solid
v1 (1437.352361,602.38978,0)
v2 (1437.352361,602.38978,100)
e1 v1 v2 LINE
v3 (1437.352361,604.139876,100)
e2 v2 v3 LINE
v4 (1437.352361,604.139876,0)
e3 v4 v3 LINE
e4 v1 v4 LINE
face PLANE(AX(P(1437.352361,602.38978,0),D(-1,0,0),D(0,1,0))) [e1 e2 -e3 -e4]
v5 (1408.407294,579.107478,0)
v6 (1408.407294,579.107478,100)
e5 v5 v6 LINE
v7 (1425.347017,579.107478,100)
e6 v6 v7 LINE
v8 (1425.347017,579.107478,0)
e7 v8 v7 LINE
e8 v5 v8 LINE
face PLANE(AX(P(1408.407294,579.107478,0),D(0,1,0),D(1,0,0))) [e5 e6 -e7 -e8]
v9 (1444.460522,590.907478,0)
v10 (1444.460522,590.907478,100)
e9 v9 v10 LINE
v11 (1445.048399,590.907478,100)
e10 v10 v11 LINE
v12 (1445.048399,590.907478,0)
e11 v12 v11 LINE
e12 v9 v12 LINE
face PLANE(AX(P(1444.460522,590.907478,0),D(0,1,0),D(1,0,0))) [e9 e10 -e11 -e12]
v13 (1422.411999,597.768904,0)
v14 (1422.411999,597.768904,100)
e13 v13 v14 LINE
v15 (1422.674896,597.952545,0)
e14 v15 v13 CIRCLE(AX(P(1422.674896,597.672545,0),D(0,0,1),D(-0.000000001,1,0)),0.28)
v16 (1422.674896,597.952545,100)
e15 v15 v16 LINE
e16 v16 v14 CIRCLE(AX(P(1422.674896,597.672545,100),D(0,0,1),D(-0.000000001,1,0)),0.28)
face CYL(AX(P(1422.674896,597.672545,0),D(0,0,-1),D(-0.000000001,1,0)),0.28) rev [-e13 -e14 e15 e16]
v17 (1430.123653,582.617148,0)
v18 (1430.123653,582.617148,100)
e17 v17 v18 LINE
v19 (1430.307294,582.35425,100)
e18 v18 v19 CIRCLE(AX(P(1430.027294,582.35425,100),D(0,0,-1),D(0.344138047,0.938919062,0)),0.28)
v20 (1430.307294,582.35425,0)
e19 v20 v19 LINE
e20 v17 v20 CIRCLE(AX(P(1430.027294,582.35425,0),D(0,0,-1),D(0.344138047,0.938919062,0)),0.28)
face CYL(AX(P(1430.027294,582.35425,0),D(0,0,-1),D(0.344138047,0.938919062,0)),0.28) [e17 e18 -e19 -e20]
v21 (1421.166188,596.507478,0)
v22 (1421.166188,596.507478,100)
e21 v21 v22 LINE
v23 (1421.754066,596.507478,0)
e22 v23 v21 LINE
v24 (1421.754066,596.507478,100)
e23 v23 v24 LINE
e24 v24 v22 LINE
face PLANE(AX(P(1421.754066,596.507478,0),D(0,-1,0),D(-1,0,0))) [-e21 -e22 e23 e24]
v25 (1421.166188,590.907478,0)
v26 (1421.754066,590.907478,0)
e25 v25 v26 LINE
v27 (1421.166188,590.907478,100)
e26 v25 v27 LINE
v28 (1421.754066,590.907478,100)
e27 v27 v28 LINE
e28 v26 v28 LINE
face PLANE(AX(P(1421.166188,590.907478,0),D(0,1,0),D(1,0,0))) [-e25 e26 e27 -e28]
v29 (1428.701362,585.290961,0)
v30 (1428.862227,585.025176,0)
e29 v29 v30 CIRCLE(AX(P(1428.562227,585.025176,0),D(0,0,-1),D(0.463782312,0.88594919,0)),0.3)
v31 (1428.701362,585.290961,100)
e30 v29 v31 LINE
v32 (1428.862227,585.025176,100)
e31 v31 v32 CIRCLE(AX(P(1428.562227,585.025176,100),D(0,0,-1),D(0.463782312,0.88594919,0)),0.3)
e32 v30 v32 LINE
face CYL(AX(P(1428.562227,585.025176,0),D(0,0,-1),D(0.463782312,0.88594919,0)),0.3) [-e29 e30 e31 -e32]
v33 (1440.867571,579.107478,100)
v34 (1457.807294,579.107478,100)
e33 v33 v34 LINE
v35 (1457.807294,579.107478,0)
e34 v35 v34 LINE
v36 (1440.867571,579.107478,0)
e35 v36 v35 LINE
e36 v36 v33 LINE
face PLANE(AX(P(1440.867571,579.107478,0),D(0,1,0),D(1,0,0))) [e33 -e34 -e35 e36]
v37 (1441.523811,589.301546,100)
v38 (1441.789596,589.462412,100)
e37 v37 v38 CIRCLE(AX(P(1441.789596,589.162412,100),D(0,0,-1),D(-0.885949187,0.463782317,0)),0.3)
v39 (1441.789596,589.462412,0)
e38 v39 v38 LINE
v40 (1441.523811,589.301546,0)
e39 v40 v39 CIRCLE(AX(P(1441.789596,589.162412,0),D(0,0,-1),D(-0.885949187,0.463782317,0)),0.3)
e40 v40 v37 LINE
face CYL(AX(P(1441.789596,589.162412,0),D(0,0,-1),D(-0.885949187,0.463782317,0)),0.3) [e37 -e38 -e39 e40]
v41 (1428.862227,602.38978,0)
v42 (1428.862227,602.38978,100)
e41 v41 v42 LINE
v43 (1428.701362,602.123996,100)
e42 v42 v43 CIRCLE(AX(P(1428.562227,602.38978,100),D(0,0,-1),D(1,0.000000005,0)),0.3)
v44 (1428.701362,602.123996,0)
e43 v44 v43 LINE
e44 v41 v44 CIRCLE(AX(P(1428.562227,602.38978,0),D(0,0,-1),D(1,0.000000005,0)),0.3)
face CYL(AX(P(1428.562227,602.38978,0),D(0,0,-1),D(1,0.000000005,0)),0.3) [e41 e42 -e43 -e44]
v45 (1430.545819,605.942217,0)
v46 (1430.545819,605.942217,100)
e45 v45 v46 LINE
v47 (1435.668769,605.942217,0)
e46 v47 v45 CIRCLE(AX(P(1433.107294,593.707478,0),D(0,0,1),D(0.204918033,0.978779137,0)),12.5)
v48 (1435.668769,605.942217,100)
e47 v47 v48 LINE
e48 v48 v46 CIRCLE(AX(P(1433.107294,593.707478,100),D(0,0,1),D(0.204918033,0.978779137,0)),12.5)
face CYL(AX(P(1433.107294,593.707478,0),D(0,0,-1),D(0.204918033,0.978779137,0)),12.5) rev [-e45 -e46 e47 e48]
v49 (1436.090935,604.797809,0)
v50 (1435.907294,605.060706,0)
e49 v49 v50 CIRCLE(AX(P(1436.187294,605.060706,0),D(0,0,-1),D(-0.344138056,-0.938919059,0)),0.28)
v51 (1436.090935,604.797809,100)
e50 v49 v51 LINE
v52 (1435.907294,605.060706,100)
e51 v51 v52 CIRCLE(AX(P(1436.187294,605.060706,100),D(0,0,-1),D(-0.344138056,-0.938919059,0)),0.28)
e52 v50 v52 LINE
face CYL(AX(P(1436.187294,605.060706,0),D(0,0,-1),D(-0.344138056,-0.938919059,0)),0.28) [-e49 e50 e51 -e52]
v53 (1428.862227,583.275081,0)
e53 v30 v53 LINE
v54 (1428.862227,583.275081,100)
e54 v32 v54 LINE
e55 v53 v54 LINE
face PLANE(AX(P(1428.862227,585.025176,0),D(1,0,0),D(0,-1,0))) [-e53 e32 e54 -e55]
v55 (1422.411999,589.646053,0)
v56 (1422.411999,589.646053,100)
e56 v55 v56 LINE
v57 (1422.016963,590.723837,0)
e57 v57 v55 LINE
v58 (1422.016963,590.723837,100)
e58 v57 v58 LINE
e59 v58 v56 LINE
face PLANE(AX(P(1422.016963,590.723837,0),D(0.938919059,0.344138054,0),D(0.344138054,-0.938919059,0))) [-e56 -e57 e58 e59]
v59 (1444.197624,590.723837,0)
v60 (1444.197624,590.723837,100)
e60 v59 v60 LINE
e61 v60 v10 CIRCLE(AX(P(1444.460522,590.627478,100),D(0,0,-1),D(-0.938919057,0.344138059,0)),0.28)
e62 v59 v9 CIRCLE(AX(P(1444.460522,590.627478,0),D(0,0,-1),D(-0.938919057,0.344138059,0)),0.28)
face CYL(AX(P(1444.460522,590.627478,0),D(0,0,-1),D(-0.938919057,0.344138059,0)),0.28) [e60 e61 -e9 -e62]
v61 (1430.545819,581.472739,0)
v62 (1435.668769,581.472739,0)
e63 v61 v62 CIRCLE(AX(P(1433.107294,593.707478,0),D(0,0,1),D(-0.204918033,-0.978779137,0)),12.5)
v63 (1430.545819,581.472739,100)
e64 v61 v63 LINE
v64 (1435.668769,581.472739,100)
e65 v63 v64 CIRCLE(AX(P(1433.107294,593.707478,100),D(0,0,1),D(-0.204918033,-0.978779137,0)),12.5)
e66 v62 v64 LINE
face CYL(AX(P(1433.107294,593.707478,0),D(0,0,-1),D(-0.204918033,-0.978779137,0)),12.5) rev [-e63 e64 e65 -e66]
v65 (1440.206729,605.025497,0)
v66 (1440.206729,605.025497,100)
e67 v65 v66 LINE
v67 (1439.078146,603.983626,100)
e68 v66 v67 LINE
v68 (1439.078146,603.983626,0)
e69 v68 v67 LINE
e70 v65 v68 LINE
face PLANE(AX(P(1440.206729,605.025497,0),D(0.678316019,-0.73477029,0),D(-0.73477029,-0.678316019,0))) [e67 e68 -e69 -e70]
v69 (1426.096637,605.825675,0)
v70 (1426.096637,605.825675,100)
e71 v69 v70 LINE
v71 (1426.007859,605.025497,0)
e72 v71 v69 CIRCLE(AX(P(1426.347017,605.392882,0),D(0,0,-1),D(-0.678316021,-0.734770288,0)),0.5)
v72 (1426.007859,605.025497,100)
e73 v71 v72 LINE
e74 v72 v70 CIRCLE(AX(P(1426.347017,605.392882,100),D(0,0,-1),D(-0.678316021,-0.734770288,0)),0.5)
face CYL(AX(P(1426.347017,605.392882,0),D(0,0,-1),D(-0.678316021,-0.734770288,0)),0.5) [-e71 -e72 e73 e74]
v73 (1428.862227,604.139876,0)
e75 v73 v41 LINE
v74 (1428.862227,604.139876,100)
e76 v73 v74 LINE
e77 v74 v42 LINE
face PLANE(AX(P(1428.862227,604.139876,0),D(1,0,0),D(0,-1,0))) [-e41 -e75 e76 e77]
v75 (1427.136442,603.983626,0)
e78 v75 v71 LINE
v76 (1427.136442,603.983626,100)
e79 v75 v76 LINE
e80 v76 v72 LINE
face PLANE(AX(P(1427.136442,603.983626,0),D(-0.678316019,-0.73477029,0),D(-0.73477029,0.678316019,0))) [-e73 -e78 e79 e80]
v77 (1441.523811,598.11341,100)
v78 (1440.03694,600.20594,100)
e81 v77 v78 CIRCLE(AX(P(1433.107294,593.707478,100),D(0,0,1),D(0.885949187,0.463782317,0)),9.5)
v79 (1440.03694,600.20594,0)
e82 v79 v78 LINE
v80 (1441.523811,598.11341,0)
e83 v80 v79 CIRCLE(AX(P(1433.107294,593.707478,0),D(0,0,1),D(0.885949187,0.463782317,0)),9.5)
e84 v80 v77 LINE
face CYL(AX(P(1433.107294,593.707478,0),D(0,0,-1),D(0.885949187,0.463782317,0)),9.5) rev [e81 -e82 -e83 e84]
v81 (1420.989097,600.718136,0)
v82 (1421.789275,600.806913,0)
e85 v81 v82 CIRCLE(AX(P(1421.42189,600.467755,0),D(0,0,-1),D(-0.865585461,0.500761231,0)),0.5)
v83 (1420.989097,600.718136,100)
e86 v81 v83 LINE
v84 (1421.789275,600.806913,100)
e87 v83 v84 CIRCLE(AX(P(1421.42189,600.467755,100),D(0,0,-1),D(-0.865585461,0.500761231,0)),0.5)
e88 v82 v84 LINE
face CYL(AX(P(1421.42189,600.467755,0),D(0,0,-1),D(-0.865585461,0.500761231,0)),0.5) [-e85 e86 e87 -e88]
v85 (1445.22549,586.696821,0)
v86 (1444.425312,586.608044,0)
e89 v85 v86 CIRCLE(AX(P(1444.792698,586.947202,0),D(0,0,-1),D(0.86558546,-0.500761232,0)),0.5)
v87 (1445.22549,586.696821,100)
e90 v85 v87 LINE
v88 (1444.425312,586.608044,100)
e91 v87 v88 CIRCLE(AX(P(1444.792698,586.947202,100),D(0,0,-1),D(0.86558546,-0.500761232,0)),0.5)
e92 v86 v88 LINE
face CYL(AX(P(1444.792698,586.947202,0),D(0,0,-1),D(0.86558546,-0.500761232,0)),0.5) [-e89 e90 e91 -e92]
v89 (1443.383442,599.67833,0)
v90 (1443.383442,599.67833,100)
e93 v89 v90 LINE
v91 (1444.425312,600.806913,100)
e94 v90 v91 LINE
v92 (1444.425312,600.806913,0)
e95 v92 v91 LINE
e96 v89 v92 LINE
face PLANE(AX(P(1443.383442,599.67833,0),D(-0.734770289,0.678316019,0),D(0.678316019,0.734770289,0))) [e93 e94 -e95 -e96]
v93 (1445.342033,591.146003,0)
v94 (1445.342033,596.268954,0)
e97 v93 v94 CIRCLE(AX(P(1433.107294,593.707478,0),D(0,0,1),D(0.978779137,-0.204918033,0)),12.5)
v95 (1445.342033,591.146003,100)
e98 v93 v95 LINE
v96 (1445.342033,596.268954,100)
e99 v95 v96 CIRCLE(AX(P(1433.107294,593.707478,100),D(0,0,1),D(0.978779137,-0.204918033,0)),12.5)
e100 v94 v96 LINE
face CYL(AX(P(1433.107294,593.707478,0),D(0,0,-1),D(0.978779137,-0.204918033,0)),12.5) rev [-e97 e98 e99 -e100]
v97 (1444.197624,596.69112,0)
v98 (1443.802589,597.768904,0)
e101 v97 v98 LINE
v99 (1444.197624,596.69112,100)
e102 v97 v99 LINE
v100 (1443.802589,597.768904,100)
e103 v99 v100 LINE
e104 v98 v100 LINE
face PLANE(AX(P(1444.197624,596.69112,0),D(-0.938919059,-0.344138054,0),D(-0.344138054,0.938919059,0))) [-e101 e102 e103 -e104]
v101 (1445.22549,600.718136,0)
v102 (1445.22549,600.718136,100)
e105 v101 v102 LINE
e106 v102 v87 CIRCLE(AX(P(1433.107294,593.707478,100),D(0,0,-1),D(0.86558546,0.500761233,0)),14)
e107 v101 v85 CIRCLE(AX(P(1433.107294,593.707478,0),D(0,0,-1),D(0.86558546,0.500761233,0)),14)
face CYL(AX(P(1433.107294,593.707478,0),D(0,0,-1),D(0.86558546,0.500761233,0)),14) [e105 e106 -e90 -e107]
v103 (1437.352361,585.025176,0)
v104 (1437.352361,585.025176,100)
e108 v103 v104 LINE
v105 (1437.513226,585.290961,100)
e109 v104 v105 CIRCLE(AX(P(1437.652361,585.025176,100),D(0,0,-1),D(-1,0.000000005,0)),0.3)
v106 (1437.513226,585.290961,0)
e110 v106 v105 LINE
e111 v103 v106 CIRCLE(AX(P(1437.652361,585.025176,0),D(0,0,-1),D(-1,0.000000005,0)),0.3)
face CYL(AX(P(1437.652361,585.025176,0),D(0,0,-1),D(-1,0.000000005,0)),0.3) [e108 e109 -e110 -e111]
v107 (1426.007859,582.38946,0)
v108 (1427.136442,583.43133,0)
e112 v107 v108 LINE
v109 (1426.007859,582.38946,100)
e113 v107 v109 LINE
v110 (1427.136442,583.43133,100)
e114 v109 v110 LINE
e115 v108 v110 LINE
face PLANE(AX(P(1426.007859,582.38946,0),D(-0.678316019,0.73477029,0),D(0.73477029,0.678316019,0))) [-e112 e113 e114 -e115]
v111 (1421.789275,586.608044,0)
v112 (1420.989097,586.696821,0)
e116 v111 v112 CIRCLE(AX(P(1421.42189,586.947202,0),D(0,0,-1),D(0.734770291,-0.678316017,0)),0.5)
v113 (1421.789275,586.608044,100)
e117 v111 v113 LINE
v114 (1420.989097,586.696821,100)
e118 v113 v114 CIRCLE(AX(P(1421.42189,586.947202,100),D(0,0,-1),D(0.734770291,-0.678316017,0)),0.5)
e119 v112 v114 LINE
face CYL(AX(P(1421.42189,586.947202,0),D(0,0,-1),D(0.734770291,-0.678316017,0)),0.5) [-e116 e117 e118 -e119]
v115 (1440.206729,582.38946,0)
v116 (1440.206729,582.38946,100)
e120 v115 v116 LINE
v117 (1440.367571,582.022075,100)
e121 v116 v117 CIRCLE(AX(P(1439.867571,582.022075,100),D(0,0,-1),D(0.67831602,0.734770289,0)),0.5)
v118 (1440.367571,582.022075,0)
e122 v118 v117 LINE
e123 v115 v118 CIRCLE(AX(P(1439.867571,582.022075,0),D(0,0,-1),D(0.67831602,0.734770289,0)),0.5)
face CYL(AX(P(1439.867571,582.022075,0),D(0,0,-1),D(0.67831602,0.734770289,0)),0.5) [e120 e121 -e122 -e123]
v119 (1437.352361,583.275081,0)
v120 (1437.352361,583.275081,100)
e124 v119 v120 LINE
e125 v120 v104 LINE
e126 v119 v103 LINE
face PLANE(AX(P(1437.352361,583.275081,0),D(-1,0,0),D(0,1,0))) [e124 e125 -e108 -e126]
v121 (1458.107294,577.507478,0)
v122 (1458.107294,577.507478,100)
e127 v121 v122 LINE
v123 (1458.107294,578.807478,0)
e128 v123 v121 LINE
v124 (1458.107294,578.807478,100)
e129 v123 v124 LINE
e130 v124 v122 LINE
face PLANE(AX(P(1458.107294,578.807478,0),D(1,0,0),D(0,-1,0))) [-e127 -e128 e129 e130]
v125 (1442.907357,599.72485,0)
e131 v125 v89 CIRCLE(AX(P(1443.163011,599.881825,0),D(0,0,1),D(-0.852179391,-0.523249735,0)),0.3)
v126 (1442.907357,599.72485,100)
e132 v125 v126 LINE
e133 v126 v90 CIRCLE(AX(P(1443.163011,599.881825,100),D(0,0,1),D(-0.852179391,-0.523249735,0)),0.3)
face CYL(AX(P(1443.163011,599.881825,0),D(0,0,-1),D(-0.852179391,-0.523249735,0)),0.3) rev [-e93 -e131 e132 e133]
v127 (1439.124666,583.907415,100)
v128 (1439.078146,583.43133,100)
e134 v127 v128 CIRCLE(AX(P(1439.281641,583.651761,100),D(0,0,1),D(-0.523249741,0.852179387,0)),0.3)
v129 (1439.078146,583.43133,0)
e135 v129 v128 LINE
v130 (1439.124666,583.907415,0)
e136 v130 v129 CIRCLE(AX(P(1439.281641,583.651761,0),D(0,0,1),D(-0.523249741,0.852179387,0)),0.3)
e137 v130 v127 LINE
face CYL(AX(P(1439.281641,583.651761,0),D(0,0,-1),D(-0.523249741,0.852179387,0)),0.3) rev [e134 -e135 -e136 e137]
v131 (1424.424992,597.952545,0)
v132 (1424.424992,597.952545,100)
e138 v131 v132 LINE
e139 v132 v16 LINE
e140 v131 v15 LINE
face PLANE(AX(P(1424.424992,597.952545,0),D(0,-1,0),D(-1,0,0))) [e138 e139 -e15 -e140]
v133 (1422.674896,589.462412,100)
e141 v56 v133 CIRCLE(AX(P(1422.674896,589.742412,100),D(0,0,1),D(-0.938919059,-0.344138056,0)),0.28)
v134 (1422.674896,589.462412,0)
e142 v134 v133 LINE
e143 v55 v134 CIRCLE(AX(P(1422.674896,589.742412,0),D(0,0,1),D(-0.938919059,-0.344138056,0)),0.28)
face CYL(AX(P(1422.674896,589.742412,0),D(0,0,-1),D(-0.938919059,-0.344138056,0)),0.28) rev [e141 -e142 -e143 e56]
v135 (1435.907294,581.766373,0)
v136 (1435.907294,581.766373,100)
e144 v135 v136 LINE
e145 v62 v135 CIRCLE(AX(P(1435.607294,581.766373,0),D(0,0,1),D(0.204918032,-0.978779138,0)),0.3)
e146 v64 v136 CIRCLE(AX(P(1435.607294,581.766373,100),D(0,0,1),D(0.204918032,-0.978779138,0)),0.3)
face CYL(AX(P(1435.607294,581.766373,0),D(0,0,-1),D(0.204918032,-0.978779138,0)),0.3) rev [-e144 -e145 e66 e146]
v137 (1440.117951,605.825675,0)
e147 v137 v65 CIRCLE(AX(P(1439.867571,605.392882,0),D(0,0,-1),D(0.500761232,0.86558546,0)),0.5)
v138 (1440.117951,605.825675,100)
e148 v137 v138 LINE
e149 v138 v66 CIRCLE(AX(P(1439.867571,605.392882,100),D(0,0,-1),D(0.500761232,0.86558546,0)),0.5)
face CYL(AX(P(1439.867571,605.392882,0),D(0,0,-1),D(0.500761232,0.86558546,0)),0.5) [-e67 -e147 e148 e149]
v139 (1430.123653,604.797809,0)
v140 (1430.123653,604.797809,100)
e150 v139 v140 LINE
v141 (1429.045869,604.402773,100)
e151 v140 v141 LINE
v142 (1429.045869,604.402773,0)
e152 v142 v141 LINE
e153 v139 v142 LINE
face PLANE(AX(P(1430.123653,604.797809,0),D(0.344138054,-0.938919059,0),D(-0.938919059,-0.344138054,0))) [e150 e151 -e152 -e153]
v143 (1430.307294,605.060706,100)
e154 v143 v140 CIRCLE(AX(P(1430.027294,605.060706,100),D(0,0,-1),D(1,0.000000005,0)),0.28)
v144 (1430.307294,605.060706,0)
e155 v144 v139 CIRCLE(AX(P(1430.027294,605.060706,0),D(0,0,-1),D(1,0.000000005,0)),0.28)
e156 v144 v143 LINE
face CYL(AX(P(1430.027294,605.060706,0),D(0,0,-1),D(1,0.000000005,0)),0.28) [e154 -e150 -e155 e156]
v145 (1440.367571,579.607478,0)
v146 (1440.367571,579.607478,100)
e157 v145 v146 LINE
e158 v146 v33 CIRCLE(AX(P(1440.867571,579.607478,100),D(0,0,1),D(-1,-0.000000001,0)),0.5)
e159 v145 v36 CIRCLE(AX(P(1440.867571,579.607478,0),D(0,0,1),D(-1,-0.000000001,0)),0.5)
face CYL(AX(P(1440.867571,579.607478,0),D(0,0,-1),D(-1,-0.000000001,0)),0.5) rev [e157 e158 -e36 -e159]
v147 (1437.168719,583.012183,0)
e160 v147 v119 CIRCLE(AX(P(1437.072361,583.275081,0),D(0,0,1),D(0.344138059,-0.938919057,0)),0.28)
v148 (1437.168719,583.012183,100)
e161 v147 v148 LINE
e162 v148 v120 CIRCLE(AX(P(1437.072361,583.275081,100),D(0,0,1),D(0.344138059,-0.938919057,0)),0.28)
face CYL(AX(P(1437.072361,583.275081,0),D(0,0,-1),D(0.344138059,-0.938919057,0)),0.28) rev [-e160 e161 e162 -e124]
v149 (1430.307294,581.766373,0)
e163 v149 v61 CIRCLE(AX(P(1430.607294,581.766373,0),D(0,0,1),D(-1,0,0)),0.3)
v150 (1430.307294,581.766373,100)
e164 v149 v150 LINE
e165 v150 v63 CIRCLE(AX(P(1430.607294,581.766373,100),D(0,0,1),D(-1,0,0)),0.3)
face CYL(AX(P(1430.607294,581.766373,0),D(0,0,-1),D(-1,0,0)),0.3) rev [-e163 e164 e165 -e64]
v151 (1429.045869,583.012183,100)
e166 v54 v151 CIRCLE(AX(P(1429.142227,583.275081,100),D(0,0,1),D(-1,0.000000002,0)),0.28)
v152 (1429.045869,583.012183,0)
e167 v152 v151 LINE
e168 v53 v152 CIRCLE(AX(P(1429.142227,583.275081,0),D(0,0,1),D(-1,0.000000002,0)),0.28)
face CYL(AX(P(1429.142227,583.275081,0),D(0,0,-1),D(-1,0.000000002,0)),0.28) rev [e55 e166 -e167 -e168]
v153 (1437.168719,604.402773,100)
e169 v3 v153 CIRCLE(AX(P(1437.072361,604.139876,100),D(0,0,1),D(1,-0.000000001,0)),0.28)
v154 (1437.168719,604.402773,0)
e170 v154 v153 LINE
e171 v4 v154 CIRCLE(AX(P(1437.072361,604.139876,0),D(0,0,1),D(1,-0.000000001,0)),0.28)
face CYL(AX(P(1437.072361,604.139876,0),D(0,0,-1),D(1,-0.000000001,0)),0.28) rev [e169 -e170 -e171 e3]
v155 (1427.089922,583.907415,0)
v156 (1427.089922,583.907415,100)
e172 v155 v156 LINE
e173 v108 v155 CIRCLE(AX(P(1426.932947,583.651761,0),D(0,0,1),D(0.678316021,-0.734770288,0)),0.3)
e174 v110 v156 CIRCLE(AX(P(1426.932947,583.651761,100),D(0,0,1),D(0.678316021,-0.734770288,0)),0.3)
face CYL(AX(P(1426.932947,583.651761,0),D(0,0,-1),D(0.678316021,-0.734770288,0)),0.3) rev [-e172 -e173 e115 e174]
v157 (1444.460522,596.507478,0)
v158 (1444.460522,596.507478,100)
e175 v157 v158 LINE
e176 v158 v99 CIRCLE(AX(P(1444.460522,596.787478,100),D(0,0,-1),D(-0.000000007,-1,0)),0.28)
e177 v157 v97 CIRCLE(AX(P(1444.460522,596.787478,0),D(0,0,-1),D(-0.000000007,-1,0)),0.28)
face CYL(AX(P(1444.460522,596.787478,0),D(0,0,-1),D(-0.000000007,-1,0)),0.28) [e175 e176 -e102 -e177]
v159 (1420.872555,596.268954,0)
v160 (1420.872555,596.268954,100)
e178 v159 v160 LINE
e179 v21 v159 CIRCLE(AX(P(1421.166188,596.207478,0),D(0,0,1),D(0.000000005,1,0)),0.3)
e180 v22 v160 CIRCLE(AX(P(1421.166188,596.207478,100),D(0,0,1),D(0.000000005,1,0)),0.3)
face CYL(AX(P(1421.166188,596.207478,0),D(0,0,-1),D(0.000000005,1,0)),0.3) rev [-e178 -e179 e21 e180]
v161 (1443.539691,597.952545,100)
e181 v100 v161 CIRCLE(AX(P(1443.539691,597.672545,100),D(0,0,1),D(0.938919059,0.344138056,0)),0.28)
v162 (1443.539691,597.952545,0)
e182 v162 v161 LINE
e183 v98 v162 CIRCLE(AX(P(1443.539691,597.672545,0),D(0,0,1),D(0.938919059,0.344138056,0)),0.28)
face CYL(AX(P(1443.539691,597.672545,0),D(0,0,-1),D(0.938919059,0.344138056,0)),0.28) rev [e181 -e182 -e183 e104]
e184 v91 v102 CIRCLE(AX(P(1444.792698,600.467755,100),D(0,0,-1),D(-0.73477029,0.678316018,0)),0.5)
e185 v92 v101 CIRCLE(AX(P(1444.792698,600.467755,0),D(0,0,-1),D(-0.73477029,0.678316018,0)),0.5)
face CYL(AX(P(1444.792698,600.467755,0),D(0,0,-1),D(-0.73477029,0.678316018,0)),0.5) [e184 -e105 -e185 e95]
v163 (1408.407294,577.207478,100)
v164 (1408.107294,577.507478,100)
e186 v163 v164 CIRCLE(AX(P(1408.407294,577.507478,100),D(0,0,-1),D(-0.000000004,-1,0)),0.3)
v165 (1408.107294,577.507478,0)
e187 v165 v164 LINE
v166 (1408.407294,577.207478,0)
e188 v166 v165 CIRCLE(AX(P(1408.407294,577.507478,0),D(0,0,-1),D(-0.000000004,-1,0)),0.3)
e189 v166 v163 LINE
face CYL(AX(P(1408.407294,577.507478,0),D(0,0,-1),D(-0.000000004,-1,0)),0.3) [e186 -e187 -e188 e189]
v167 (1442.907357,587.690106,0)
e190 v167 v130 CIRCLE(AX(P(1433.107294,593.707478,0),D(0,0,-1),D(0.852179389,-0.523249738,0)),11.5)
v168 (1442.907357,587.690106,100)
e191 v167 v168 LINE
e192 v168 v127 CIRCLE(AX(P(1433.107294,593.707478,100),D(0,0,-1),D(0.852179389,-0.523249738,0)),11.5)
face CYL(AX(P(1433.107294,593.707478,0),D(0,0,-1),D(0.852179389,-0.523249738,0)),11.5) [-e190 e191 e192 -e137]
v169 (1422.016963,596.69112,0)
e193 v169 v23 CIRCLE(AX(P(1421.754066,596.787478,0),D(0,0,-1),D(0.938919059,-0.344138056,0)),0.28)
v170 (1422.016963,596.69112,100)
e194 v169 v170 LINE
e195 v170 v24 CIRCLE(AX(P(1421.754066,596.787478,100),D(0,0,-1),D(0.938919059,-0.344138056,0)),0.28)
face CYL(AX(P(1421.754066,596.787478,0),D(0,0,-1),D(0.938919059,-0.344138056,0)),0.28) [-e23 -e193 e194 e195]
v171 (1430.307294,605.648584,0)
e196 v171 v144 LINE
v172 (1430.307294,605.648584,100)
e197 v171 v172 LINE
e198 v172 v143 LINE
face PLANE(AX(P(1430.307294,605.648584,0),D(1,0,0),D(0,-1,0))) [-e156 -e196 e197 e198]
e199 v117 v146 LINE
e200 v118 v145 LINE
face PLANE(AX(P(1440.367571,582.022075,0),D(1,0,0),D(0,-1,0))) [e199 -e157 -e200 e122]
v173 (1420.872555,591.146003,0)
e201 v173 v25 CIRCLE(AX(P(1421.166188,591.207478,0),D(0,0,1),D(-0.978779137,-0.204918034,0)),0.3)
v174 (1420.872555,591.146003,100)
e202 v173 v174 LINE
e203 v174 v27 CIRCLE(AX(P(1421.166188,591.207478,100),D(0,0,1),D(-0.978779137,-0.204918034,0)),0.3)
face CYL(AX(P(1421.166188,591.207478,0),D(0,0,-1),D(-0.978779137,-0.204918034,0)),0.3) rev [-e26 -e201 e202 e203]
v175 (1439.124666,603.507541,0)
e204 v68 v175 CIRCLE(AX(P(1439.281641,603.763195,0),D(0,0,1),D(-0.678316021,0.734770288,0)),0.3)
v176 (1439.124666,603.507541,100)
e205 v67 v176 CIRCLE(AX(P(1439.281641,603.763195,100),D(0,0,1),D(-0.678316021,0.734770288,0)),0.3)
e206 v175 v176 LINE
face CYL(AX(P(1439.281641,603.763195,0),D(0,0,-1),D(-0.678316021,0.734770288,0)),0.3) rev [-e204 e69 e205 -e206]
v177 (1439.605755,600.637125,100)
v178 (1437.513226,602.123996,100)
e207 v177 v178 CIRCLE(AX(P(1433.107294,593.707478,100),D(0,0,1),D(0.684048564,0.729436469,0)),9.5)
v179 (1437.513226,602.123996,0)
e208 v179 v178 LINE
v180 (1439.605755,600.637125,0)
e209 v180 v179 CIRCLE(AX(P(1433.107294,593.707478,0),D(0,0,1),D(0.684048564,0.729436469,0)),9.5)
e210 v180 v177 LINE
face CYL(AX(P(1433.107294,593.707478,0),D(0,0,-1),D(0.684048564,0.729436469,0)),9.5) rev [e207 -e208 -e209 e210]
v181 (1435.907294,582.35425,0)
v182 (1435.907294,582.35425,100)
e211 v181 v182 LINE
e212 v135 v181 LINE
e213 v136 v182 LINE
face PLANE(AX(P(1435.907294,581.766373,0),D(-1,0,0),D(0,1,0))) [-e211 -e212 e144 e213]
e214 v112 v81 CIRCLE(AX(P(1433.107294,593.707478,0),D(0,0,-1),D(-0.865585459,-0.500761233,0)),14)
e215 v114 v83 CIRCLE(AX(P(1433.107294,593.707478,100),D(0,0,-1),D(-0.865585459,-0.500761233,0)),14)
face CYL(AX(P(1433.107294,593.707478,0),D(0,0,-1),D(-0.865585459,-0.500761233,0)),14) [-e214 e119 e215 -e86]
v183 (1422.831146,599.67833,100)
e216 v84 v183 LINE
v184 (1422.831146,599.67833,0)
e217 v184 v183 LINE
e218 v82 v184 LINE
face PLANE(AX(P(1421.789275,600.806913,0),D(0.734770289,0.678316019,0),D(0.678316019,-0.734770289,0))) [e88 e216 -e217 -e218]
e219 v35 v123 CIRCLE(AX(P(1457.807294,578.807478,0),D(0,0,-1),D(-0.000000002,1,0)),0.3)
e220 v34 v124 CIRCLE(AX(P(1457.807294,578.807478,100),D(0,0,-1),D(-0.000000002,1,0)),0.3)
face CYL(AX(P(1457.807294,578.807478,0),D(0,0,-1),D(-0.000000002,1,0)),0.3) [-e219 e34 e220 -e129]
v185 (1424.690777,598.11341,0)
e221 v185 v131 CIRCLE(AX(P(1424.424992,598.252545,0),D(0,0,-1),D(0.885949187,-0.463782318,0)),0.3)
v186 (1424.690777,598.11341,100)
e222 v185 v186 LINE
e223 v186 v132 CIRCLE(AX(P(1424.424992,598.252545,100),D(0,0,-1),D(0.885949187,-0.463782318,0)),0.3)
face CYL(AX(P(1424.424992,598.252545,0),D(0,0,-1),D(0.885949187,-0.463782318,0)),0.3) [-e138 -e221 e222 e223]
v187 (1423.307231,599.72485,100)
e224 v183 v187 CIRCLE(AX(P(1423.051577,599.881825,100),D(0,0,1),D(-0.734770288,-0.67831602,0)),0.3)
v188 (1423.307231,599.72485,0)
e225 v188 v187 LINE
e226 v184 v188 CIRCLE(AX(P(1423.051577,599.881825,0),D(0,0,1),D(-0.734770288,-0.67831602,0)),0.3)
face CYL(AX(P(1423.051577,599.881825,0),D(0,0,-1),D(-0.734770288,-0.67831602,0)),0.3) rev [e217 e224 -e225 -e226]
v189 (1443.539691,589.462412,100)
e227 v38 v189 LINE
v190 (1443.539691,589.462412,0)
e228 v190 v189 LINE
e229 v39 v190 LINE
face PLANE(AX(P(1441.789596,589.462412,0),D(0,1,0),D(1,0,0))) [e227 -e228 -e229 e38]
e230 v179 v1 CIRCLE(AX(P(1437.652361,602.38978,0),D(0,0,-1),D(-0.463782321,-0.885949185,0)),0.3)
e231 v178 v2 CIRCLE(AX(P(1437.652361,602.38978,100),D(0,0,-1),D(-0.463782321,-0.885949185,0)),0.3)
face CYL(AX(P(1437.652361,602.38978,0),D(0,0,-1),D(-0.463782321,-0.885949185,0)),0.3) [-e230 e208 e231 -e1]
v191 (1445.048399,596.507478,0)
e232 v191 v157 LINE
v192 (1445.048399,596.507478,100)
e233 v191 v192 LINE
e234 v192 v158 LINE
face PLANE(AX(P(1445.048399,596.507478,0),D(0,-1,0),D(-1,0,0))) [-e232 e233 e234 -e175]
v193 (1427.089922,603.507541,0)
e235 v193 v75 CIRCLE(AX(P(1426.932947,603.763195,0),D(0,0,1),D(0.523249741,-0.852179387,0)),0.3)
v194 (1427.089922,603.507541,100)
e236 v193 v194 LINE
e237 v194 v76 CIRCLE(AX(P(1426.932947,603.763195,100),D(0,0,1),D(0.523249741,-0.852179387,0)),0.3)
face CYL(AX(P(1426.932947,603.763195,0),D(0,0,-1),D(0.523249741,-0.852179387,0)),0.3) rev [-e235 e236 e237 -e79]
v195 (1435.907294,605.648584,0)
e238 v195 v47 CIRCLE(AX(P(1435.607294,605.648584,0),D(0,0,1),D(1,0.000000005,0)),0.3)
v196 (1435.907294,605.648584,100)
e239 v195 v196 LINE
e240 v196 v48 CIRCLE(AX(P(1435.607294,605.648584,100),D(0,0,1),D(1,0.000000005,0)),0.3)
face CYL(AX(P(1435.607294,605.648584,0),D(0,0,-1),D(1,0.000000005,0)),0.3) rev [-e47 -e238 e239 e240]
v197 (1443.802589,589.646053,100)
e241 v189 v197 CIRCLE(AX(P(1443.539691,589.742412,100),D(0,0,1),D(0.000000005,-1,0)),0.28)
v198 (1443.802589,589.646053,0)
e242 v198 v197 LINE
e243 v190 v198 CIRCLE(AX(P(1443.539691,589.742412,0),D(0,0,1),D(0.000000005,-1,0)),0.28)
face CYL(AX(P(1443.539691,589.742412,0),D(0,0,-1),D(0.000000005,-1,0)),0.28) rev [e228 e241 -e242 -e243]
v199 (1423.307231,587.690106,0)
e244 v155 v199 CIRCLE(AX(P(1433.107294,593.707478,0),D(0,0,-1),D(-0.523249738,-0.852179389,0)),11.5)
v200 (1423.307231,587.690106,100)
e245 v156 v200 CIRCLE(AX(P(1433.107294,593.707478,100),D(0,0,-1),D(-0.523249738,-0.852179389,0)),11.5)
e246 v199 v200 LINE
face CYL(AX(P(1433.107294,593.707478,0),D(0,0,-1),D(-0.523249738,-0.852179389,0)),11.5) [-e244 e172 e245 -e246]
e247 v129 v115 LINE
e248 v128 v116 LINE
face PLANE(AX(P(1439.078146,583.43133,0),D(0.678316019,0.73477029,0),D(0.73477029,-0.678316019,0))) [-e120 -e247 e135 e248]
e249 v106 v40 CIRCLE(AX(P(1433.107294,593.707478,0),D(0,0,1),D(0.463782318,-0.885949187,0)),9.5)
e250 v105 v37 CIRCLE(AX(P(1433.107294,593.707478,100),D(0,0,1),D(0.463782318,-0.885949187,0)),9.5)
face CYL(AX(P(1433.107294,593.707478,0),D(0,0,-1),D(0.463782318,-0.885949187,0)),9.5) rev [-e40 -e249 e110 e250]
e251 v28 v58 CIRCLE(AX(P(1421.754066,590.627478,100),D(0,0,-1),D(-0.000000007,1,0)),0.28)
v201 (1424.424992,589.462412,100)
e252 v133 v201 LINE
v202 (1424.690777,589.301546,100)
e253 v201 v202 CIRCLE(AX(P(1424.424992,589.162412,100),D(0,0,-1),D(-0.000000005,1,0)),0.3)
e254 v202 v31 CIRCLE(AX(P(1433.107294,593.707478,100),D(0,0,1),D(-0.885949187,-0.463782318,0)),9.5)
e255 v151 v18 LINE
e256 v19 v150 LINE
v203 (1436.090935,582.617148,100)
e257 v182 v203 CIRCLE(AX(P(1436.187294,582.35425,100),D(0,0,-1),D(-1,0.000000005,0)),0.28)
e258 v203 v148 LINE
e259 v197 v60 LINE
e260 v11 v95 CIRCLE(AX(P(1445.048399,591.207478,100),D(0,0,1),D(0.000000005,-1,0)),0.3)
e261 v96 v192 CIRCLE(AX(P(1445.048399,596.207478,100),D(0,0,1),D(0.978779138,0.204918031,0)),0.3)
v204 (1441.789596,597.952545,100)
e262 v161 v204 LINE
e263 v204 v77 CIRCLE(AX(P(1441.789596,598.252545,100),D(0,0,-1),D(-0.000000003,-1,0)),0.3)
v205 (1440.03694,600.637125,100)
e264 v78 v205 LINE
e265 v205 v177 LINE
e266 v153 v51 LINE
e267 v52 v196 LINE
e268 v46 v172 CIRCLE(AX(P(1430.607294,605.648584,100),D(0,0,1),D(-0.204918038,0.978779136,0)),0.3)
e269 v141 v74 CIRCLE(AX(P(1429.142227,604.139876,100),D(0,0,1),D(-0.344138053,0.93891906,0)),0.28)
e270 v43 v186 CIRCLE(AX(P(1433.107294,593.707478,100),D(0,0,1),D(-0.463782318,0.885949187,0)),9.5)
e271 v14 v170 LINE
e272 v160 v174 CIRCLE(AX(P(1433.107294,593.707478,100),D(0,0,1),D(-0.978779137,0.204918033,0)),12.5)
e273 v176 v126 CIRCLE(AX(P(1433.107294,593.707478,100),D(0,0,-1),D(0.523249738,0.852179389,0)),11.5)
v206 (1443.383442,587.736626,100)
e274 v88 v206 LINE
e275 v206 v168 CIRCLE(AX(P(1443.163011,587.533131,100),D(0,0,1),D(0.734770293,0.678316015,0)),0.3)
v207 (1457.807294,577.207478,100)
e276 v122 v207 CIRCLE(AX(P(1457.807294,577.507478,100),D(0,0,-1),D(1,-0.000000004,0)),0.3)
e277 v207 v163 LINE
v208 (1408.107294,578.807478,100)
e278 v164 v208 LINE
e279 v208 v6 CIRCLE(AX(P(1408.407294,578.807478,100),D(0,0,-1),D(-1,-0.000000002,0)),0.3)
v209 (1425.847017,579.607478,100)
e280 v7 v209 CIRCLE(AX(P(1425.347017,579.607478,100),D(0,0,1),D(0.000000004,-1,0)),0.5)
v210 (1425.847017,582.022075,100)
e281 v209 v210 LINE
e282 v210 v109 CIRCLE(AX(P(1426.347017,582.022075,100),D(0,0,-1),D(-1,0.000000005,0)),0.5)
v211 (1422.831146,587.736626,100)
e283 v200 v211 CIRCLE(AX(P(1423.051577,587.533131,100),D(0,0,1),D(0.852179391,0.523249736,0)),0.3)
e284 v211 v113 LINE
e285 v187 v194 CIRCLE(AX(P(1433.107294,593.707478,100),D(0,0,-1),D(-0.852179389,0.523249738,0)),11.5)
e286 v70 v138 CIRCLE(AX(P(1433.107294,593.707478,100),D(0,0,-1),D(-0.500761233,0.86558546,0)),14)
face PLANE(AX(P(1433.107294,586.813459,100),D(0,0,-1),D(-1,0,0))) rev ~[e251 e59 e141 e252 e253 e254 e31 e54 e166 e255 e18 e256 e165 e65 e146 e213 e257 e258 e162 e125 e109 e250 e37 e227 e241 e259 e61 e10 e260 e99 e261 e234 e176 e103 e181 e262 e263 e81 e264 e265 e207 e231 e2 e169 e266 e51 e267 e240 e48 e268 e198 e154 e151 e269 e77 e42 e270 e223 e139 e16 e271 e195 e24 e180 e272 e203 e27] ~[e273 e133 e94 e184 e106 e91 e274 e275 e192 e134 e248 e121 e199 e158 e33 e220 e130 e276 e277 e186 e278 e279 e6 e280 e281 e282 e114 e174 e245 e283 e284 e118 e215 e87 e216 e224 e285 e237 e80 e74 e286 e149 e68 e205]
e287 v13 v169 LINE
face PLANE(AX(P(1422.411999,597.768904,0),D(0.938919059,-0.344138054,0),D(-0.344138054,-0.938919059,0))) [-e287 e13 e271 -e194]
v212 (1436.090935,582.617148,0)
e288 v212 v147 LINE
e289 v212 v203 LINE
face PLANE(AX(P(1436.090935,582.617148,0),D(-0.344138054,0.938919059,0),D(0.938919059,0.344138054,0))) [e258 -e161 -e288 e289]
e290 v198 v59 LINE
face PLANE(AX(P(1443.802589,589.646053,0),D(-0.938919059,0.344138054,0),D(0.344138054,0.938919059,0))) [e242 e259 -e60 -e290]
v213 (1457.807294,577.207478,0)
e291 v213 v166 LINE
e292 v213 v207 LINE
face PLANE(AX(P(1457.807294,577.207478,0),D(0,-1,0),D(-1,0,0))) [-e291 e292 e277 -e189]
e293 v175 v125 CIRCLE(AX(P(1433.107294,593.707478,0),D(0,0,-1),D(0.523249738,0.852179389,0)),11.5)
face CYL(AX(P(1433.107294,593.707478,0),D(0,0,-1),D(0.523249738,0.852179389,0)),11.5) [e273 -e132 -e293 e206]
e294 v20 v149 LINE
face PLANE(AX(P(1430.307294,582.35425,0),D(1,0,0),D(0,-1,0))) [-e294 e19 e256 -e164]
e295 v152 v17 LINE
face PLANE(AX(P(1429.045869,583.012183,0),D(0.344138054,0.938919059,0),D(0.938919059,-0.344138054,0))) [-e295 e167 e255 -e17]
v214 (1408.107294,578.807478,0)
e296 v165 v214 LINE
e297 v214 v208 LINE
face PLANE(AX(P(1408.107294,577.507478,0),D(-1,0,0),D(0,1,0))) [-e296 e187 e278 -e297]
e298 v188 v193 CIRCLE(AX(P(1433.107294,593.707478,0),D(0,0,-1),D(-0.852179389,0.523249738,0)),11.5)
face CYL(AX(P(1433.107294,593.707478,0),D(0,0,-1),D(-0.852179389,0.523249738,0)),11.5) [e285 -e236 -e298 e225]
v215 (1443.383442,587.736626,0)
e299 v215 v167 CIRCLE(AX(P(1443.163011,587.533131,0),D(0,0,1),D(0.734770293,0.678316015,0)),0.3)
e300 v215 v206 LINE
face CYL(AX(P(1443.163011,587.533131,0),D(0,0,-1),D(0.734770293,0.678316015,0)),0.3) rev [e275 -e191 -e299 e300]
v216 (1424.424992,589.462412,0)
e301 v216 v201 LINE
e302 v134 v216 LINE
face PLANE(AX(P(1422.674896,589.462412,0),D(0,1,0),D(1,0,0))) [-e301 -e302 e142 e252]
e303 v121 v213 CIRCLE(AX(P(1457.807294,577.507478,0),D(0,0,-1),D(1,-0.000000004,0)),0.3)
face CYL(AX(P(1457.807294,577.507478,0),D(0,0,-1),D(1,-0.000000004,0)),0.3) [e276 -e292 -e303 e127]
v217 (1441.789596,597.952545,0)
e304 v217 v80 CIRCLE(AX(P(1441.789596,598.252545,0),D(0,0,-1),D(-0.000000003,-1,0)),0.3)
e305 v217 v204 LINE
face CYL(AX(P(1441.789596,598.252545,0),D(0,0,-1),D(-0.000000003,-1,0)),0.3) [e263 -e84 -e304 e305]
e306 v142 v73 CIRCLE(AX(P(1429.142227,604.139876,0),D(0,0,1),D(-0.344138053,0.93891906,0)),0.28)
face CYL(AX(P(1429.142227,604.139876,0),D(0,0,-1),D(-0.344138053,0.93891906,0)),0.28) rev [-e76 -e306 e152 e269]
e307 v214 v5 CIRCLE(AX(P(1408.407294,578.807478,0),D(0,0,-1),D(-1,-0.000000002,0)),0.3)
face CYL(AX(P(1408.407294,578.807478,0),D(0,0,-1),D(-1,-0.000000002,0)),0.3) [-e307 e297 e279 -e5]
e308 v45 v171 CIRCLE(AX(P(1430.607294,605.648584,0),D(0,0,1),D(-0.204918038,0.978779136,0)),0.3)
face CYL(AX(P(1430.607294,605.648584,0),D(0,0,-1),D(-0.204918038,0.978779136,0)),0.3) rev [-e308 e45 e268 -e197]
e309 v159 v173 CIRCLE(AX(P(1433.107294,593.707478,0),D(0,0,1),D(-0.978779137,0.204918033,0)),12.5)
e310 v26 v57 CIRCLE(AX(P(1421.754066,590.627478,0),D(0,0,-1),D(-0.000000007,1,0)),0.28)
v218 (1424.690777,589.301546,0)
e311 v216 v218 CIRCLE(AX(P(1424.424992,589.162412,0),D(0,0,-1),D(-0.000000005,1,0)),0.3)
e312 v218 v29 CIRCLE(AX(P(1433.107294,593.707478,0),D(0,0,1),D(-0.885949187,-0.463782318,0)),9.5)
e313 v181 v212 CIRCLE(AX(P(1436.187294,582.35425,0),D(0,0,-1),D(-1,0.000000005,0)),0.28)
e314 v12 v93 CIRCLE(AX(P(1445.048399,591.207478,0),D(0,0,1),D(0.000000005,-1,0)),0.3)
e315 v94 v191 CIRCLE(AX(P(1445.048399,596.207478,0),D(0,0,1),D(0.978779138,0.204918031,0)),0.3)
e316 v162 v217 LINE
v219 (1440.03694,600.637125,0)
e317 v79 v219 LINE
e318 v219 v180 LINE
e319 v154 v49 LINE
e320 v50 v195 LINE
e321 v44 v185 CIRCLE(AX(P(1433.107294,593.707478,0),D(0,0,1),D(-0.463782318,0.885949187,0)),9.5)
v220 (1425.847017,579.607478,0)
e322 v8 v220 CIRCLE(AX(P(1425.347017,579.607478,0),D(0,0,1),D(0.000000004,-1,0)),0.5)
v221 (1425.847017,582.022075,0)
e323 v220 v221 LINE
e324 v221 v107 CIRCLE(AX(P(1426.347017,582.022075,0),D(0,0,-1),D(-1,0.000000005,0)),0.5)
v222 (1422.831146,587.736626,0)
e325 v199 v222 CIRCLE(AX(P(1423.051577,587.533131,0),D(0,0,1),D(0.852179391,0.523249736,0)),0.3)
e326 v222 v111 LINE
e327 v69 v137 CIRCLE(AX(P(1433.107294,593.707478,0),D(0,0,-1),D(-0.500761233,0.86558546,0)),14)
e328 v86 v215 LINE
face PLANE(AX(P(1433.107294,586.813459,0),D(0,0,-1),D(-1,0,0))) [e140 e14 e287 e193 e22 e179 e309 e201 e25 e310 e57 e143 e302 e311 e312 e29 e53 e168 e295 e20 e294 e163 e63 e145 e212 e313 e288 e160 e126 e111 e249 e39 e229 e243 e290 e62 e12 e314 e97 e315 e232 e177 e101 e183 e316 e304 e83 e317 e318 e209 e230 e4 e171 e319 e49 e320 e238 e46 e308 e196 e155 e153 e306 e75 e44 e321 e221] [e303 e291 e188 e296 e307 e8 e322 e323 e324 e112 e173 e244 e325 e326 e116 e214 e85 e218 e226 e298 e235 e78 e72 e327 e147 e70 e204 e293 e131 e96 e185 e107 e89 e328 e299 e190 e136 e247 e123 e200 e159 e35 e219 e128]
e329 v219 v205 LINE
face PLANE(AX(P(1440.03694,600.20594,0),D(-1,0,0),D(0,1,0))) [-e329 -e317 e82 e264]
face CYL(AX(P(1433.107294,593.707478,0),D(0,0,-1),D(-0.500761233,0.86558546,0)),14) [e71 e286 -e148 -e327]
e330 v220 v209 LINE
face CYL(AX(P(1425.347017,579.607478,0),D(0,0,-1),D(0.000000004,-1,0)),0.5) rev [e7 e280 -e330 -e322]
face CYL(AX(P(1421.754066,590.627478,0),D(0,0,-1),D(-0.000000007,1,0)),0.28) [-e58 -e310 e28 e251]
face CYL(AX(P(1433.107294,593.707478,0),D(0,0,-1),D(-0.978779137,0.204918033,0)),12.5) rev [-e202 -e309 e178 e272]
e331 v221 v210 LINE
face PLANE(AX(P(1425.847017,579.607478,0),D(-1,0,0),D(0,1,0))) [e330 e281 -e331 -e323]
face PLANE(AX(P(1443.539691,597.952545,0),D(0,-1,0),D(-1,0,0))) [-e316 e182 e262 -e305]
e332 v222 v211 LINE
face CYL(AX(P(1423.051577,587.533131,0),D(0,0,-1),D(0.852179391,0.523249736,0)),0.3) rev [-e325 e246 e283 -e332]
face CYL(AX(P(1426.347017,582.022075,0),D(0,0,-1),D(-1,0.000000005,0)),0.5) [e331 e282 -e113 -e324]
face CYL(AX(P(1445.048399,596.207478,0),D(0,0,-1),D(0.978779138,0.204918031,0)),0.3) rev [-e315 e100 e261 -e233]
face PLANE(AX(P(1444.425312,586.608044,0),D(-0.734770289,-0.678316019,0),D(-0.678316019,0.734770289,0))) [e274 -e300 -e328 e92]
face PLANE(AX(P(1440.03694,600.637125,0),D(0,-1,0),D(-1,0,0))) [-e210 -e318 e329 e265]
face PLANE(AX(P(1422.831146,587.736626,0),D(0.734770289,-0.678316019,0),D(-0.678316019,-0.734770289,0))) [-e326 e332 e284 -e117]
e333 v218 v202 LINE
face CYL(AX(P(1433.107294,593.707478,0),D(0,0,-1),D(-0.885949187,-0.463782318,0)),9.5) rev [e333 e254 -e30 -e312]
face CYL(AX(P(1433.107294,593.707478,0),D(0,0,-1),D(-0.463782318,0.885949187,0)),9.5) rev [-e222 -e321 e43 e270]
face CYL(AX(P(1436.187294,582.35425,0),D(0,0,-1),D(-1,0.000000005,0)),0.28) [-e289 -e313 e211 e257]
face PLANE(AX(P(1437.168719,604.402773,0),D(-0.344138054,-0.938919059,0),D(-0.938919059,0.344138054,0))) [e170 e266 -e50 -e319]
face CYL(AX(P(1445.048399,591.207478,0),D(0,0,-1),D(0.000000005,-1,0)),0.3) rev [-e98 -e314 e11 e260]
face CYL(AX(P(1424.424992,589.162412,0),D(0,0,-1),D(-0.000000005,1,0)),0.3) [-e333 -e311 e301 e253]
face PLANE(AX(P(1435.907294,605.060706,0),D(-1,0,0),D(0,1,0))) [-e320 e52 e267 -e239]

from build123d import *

# Parameters (mm, degrees)
EXTRUDE_1_DEPTH = 100


with BuildPart() as part:
    # Model → 凸台-拉伸1 (new body)
    with BuildSketch(Plane.XY):
        with BuildLine():
            Line((1440.867570561, 579.107478259), (1452.807293918, 579.107478259))
            Line((1452.807293918, 579.107478259), (1457.807293918, 579.107478259))
            ThreePointArc((1457.807293918, 579.107478259), (1458.019425952, 579.019610294), (1458.107293918, 578.807478259))
            Line((1458.107293918, 578.807478259), (1458.107293918, 577.507478259))
            ThreePointArc((1458.107293918, 577.507478259), (1458.019425952, 577.295346225), (1457.807293918, 577.207478259))
            Line((1457.807293918, 577.207478259), (1408.407293918, 577.207478259))
            ThreePointArc((1408.407293918, 577.207478259), (1408.195161884, 577.295346225), (1408.107293918, 577.507478259))
            Line((1408.107293918, 577.507478259), (1408.107293918, 578.807478259))
            ThreePointArc((1408.107293918, 578.807478259), (1408.195161884, 579.019610294), (1408.407293918, 579.107478259))
            Line((1408.407293918, 579.107478259), (1425.347017276, 579.107478259))
            ThreePointArc((1425.347017276, 579.107478259), (1425.700570666, 579.253924869), (1425.847017276, 579.607478259))
            Line((1425.847017276, 579.607478259), (1425.847017276, 582.022074556))
            ThreePointArc((1425.847017276, 582.022074556), (1425.888989436, 582.222600109), (1426.007859266, 582.389459701))
            Line((1426.007859266, 582.389459701), (1427.136441813, 583.431330379))
            ThreePointArc((1427.136441813, 583.431330379), (1427.231524995, 583.680936543), (1427.089921929, 583.907415283))
            ThreePointArc((1427.089921929, 583.907415283), (1424.975565934, 585.575750276), (1423.307230942, 587.69010627))
            ThreePointArc((1423.307230942, 587.69010627), (1423.080752201, 587.831709337), (1422.831146038, 587.736626154))
            Line((1422.831146038, 587.736626154), (1421.789275359, 586.608043608))
            ThreePointArc((1421.789275359, 586.608043608), (1421.366754977, 586.450250809), (1420.989097485, 586.696821001))
            ThreePointArc((1420.989097485, 586.696821001), (1419.107293918, 593.707478259), (1420.989097485, 600.718135518))
            ThreePointArc((1420.989097485, 600.718135518), (1421.366754977, 600.96470571), (1421.789275359, 600.806912911))
            Line((1421.789275359, 600.806912911), (1422.831146038, 599.678330364))
            ThreePointArc((1422.831146038, 599.678330364), (1423.080752201, 599.583247182), (1423.307230942, 599.724850249))
            ThreePointArc((1423.307230942, 599.724850249), (1424.975565934, 601.839206243), (1427.089921929, 603.507541236))
            ThreePointArc((1427.089921929, 603.507541236), (1427.231524995, 603.734019976), (1427.136441813, 603.98362614))
            Line((1427.136441813, 603.98362614), (1426.007859266, 605.025496818))
            ThreePointArc((1426.007859266, 605.025496818), (1425.850066468, 605.448017201), (1426.096636659, 605.825674693))
            ThreePointArc((1426.096636659, 605.825674693), (1433.107293918, 607.707478259), (1440.117951177, 605.825674693))
            ThreePointArc((1440.117951177, 605.825674693), (1440.364521369, 605.448017201), (1440.20672857, 605.025496818))
            Line((1440.20672857, 605.025496818), (1439.078146023, 603.98362614))
            ThreePointArc((1439.078146023, 603.98362614), (1438.983062841, 603.734019976), (1439.124665907, 603.507541236))
            ThreePointArc((1439.124665907, 603.507541236), (1441.239021902, 601.839206243), (1442.907356895, 599.724850249))
            ThreePointArc((1442.907356895, 599.724850249), (1443.133835635, 599.583247182), (1443.383441798, 599.678330364))
            Line((1443.383441798, 599.678330364), (1444.425312477, 600.806912911))
            ThreePointArc((1444.425312477, 600.806912911), (1444.847832859, 600.96470571), (1445.225490352, 600.718135518))
            ThreePointArc((1445.225490352, 600.718135518), (1447.107293918, 593.707478259), (1445.225490352, 586.696821001))
            ThreePointArc((1445.225490352, 586.696821001), (1444.847832859, 586.450250809), (1444.425312477, 586.608043608))
            Line((1444.425312477, 586.608043608), (1443.383441798, 587.736626154))
            ThreePointArc((1443.383441798, 587.736626154), (1443.133835635, 587.831709337), (1442.907356895, 587.69010627))
            ThreePointArc((1442.907356895, 587.69010627), (1441.239021902, 585.575750276), (1439.124665907, 583.907415283))
            ThreePointArc((1439.124665907, 583.907415283), (1438.983062841, 583.680936543), (1439.078146023, 583.431330379))
            Line((1439.078146023, 583.431330379), (1440.20672857, 582.389459701))
            ThreePointArc((1440.20672857, 582.389459701), (1440.325598401, 582.222600109), (1440.367570561, 582.022074556))
            Line((1440.367570561, 582.022074556), (1440.367570561, 579.607478259))
            ThreePointArc((1440.367570561, 579.607478259), (1440.51401717, 579.253924869), (1440.867570561, 579.107478259))
        make_face()
        with BuildLine():
            Line((1421.166188442, 590.907478259), (1421.754066124, 590.907478259))
            ThreePointArc((1421.754066124, 590.907478259), (1421.914408846, 590.857021745), (1422.016963461, 590.723836915))
            Line((1422.016963461, 590.723836915), (1422.411999107, 589.64605289))
            ThreePointArc((1422.411999107, 589.64605289), (1422.514553722, 589.51286806), (1422.674896444, 589.462411545))
            Line((1422.674896444, 589.462411545), (1424.424991887, 589.462411545))
            ThreePointArc((1424.424991887, 589.462411545), (1424.58032957, 589.419063458), (1424.690776643, 589.30154624))
            ThreePointArc((1424.690776643, 589.30154624), (1426.389779497, 586.989963838), (1428.701361899, 585.290960984))
            ThreePointArc((1428.701361899, 585.290960984), (1428.818879117, 585.180513911), (1428.862227204, 585.025176228))
            Line((1428.862227204, 585.025176228), (1428.862227204, 583.275080785))
            ThreePointArc((1428.862227204, 583.275080785), (1428.912683718, 583.114738064), (1429.045868549, 583.012183448))
            Line((1429.045868549, 583.012183448), (1430.123652573, 582.617147802))
            ThreePointArc((1430.123652573, 582.617147802), (1430.256837404, 582.514593187), (1430.307293918, 582.354250466))
            Line((1430.307293918, 582.354250466), (1430.307293918, 581.766372783))
            ThreePointArc((1430.307293918, 581.766372783), (1430.374439218, 581.577220229), (1430.545818508, 581.472739042))
            ThreePointArc((1430.545818508, 581.472739042), (1433.107293918, 581.207478259), (1435.668769328, 581.472739042))
            ThreePointArc((1435.668769328, 581.472739042), (1435.840148618, 581.577220229), (1435.907293918, 581.766372783))
            Line((1435.907293918, 581.766372783), (1435.907293918, 582.354250466))
            ThreePointArc((1435.907293918, 582.354250466), (1435.957750433, 582.514593187), (1436.090935263, 582.617147802))
            Line((1436.090935263, 582.617147802), (1437.168719288, 583.012183448))
            ThreePointArc((1437.168719288, 583.012183448), (1437.301904118, 583.114738064), (1437.352360632, 583.275080785))
            Line((1437.352360632, 583.275080785), (1437.352360632, 585.025176228))
            ThreePointArc((1437.352360632, 585.025176228), (1437.39570872, 585.180513911), (1437.513225937, 585.290960984))
            ThreePointArc((1437.513225937, 585.290960984), (1439.824808339, 586.989963838), (1441.523811193, 589.30154624))
            ThreePointArc((1441.523811193, 589.30154624), (1441.634258267, 589.419063458), (1441.789595949, 589.462411545))
            Line((1441.789595949, 589.462411545), (1443.539691393, 589.462411545))
            ThreePointArc((1443.539691393, 589.462411545), (1443.700034114, 589.51286806), (1443.802588729, 589.64605289))
            Line((1443.802588729, 589.64605289), (1444.197624375, 590.723836915))
            ThreePointArc((1444.197624375, 590.723836915), (1444.300178991, 590.857021745), (1444.460521712, 590.907478259))
            Line((1444.460521712, 590.907478259), (1445.048399395, 590.907478259))
            ThreePointArc((1445.048399395, 590.907478259), (1445.237551948, 590.974623559), (1445.342033136, 591.14600285))
            ThreePointArc((1445.342033136, 591.14600285), (1445.607293918, 593.707478259), (1445.342033136, 596.268953669))
            ThreePointArc((1445.342033136, 596.268953669), (1445.237551948, 596.44033296), (1445.048399395, 596.507478259))
            Line((1445.048399395, 596.507478259), (1444.460521712, 596.507478259))
            ThreePointArc((1444.460521712, 596.507478259), (1444.300178991, 596.557934774), (1444.197624375, 596.691119604))
            Line((1444.197624375, 596.691119604), (1443.802588729, 597.768903629))
            ThreePointArc((1443.802588729, 597.768903629), (1443.700034114, 597.902088459), (1443.539691393, 597.952544974))
            Line((1443.539691393, 597.952544974), (1441.789595949, 597.952544974))
            ThreePointArc((1441.789595949, 597.952544974), (1441.634258267, 597.995893061), (1441.523811193, 598.113410278))
            ThreePointArc((1441.523811193, 598.113410278), (1440.851379085, 599.210127161), (1440.036940374, 600.205939616))
            Line((1440.036940374, 600.205939616), (1440.036940374, 600.637124715))
            Line((1440.036940374, 600.637124715), (1439.605755274, 600.637124715))
            ThreePointArc((1439.605755274, 600.637124715), (1438.609942819, 601.451563426), (1437.513225937, 602.123995535))
            ThreePointArc((1437.513225937, 602.123995535), (1437.39570872, 602.234442608), (1437.352360632, 602.389780291))
            Line((1437.352360632, 602.389780291), (1437.352360632, 604.139875734))
            ThreePointArc((1437.352360632, 604.139875734), (1437.301904118, 604.300218455), (1437.168719288, 604.402773071))
            Line((1437.168719288, 604.402773071), (1436.090935263, 604.797808717))
            ThreePointArc((1436.090935263, 604.797808717), (1435.957750433, 604.900363332), (1435.907293918, 605.060706053))
            Line((1435.907293918, 605.060706053), (1435.907293918, 605.648583736))
            ThreePointArc((1435.907293918, 605.648583736), (1435.840148618, 605.837736289), (1435.668769328, 605.942217477))
            ThreePointArc((1435.668769328, 605.942217477), (1433.107293918, 606.207478259), (1430.545818508, 605.942217477))
            ThreePointArc((1430.545818508, 605.942217477), (1430.374439218, 605.837736289), (1430.307293918, 605.648583736))
            Line((1430.307293918, 605.648583736), (1430.307293918, 605.060706053))
            ThreePointArc((1430.307293918, 605.060706053), (1430.256837404, 604.900363332), (1430.123652573, 604.797808717))
            Line((1430.123652573, 604.797808717), (1429.045868549, 604.402773071))
            ThreePointArc((1429.045868549, 604.402773071), (1428.912683718, 604.300218455), (1428.862227204, 604.139875734))
            Line((1428.862227204, 604.139875734), (1428.862227204, 602.389780291))
            ThreePointArc((1428.862227204, 602.389780291), (1428.818879117, 602.234442608), (1428.701361899, 602.123995535))
            ThreePointArc((1428.701361899, 602.123995535), (1426.389779497, 600.424992681), (1424.690776643, 598.113410278))
            ThreePointArc((1424.690776643, 598.113410278), (1424.58032957, 597.995893061), (1424.424991887, 597.952544974))
            Line((1424.424991887, 597.952544974), (1422.674896444, 597.952544974))
            ThreePointArc((1422.674896444, 597.952544974), (1422.514553722, 597.902088459), (1422.411999107, 597.768903629))
            Line((1422.411999107, 597.768903629), (1422.016963461, 596.691119604))
            ThreePointArc((1422.016963461, 596.691119604), (1421.914408846, 596.557934774), (1421.754066124, 596.507478259))
            Line((1421.754066124, 596.507478259), (1421.166188442, 596.507478259))
            ThreePointArc((1421.166188442, 596.507478259), (1420.977035888, 596.44033296), (1420.8725547, 596.268953669))
            ThreePointArc((1420.8725547, 596.268953669), (1420.607293918, 593.707478259), (1420.8725547, 591.14600285))
            ThreePointArc((1420.8725547, 591.14600285), (1420.977035888, 590.974623559), (1421.166188442, 590.907478259))
        make_face(mode=Mode.SUBTRACT)
    extrude(amount=EXTRUDE_1_DEPTH)


solid = part.part
